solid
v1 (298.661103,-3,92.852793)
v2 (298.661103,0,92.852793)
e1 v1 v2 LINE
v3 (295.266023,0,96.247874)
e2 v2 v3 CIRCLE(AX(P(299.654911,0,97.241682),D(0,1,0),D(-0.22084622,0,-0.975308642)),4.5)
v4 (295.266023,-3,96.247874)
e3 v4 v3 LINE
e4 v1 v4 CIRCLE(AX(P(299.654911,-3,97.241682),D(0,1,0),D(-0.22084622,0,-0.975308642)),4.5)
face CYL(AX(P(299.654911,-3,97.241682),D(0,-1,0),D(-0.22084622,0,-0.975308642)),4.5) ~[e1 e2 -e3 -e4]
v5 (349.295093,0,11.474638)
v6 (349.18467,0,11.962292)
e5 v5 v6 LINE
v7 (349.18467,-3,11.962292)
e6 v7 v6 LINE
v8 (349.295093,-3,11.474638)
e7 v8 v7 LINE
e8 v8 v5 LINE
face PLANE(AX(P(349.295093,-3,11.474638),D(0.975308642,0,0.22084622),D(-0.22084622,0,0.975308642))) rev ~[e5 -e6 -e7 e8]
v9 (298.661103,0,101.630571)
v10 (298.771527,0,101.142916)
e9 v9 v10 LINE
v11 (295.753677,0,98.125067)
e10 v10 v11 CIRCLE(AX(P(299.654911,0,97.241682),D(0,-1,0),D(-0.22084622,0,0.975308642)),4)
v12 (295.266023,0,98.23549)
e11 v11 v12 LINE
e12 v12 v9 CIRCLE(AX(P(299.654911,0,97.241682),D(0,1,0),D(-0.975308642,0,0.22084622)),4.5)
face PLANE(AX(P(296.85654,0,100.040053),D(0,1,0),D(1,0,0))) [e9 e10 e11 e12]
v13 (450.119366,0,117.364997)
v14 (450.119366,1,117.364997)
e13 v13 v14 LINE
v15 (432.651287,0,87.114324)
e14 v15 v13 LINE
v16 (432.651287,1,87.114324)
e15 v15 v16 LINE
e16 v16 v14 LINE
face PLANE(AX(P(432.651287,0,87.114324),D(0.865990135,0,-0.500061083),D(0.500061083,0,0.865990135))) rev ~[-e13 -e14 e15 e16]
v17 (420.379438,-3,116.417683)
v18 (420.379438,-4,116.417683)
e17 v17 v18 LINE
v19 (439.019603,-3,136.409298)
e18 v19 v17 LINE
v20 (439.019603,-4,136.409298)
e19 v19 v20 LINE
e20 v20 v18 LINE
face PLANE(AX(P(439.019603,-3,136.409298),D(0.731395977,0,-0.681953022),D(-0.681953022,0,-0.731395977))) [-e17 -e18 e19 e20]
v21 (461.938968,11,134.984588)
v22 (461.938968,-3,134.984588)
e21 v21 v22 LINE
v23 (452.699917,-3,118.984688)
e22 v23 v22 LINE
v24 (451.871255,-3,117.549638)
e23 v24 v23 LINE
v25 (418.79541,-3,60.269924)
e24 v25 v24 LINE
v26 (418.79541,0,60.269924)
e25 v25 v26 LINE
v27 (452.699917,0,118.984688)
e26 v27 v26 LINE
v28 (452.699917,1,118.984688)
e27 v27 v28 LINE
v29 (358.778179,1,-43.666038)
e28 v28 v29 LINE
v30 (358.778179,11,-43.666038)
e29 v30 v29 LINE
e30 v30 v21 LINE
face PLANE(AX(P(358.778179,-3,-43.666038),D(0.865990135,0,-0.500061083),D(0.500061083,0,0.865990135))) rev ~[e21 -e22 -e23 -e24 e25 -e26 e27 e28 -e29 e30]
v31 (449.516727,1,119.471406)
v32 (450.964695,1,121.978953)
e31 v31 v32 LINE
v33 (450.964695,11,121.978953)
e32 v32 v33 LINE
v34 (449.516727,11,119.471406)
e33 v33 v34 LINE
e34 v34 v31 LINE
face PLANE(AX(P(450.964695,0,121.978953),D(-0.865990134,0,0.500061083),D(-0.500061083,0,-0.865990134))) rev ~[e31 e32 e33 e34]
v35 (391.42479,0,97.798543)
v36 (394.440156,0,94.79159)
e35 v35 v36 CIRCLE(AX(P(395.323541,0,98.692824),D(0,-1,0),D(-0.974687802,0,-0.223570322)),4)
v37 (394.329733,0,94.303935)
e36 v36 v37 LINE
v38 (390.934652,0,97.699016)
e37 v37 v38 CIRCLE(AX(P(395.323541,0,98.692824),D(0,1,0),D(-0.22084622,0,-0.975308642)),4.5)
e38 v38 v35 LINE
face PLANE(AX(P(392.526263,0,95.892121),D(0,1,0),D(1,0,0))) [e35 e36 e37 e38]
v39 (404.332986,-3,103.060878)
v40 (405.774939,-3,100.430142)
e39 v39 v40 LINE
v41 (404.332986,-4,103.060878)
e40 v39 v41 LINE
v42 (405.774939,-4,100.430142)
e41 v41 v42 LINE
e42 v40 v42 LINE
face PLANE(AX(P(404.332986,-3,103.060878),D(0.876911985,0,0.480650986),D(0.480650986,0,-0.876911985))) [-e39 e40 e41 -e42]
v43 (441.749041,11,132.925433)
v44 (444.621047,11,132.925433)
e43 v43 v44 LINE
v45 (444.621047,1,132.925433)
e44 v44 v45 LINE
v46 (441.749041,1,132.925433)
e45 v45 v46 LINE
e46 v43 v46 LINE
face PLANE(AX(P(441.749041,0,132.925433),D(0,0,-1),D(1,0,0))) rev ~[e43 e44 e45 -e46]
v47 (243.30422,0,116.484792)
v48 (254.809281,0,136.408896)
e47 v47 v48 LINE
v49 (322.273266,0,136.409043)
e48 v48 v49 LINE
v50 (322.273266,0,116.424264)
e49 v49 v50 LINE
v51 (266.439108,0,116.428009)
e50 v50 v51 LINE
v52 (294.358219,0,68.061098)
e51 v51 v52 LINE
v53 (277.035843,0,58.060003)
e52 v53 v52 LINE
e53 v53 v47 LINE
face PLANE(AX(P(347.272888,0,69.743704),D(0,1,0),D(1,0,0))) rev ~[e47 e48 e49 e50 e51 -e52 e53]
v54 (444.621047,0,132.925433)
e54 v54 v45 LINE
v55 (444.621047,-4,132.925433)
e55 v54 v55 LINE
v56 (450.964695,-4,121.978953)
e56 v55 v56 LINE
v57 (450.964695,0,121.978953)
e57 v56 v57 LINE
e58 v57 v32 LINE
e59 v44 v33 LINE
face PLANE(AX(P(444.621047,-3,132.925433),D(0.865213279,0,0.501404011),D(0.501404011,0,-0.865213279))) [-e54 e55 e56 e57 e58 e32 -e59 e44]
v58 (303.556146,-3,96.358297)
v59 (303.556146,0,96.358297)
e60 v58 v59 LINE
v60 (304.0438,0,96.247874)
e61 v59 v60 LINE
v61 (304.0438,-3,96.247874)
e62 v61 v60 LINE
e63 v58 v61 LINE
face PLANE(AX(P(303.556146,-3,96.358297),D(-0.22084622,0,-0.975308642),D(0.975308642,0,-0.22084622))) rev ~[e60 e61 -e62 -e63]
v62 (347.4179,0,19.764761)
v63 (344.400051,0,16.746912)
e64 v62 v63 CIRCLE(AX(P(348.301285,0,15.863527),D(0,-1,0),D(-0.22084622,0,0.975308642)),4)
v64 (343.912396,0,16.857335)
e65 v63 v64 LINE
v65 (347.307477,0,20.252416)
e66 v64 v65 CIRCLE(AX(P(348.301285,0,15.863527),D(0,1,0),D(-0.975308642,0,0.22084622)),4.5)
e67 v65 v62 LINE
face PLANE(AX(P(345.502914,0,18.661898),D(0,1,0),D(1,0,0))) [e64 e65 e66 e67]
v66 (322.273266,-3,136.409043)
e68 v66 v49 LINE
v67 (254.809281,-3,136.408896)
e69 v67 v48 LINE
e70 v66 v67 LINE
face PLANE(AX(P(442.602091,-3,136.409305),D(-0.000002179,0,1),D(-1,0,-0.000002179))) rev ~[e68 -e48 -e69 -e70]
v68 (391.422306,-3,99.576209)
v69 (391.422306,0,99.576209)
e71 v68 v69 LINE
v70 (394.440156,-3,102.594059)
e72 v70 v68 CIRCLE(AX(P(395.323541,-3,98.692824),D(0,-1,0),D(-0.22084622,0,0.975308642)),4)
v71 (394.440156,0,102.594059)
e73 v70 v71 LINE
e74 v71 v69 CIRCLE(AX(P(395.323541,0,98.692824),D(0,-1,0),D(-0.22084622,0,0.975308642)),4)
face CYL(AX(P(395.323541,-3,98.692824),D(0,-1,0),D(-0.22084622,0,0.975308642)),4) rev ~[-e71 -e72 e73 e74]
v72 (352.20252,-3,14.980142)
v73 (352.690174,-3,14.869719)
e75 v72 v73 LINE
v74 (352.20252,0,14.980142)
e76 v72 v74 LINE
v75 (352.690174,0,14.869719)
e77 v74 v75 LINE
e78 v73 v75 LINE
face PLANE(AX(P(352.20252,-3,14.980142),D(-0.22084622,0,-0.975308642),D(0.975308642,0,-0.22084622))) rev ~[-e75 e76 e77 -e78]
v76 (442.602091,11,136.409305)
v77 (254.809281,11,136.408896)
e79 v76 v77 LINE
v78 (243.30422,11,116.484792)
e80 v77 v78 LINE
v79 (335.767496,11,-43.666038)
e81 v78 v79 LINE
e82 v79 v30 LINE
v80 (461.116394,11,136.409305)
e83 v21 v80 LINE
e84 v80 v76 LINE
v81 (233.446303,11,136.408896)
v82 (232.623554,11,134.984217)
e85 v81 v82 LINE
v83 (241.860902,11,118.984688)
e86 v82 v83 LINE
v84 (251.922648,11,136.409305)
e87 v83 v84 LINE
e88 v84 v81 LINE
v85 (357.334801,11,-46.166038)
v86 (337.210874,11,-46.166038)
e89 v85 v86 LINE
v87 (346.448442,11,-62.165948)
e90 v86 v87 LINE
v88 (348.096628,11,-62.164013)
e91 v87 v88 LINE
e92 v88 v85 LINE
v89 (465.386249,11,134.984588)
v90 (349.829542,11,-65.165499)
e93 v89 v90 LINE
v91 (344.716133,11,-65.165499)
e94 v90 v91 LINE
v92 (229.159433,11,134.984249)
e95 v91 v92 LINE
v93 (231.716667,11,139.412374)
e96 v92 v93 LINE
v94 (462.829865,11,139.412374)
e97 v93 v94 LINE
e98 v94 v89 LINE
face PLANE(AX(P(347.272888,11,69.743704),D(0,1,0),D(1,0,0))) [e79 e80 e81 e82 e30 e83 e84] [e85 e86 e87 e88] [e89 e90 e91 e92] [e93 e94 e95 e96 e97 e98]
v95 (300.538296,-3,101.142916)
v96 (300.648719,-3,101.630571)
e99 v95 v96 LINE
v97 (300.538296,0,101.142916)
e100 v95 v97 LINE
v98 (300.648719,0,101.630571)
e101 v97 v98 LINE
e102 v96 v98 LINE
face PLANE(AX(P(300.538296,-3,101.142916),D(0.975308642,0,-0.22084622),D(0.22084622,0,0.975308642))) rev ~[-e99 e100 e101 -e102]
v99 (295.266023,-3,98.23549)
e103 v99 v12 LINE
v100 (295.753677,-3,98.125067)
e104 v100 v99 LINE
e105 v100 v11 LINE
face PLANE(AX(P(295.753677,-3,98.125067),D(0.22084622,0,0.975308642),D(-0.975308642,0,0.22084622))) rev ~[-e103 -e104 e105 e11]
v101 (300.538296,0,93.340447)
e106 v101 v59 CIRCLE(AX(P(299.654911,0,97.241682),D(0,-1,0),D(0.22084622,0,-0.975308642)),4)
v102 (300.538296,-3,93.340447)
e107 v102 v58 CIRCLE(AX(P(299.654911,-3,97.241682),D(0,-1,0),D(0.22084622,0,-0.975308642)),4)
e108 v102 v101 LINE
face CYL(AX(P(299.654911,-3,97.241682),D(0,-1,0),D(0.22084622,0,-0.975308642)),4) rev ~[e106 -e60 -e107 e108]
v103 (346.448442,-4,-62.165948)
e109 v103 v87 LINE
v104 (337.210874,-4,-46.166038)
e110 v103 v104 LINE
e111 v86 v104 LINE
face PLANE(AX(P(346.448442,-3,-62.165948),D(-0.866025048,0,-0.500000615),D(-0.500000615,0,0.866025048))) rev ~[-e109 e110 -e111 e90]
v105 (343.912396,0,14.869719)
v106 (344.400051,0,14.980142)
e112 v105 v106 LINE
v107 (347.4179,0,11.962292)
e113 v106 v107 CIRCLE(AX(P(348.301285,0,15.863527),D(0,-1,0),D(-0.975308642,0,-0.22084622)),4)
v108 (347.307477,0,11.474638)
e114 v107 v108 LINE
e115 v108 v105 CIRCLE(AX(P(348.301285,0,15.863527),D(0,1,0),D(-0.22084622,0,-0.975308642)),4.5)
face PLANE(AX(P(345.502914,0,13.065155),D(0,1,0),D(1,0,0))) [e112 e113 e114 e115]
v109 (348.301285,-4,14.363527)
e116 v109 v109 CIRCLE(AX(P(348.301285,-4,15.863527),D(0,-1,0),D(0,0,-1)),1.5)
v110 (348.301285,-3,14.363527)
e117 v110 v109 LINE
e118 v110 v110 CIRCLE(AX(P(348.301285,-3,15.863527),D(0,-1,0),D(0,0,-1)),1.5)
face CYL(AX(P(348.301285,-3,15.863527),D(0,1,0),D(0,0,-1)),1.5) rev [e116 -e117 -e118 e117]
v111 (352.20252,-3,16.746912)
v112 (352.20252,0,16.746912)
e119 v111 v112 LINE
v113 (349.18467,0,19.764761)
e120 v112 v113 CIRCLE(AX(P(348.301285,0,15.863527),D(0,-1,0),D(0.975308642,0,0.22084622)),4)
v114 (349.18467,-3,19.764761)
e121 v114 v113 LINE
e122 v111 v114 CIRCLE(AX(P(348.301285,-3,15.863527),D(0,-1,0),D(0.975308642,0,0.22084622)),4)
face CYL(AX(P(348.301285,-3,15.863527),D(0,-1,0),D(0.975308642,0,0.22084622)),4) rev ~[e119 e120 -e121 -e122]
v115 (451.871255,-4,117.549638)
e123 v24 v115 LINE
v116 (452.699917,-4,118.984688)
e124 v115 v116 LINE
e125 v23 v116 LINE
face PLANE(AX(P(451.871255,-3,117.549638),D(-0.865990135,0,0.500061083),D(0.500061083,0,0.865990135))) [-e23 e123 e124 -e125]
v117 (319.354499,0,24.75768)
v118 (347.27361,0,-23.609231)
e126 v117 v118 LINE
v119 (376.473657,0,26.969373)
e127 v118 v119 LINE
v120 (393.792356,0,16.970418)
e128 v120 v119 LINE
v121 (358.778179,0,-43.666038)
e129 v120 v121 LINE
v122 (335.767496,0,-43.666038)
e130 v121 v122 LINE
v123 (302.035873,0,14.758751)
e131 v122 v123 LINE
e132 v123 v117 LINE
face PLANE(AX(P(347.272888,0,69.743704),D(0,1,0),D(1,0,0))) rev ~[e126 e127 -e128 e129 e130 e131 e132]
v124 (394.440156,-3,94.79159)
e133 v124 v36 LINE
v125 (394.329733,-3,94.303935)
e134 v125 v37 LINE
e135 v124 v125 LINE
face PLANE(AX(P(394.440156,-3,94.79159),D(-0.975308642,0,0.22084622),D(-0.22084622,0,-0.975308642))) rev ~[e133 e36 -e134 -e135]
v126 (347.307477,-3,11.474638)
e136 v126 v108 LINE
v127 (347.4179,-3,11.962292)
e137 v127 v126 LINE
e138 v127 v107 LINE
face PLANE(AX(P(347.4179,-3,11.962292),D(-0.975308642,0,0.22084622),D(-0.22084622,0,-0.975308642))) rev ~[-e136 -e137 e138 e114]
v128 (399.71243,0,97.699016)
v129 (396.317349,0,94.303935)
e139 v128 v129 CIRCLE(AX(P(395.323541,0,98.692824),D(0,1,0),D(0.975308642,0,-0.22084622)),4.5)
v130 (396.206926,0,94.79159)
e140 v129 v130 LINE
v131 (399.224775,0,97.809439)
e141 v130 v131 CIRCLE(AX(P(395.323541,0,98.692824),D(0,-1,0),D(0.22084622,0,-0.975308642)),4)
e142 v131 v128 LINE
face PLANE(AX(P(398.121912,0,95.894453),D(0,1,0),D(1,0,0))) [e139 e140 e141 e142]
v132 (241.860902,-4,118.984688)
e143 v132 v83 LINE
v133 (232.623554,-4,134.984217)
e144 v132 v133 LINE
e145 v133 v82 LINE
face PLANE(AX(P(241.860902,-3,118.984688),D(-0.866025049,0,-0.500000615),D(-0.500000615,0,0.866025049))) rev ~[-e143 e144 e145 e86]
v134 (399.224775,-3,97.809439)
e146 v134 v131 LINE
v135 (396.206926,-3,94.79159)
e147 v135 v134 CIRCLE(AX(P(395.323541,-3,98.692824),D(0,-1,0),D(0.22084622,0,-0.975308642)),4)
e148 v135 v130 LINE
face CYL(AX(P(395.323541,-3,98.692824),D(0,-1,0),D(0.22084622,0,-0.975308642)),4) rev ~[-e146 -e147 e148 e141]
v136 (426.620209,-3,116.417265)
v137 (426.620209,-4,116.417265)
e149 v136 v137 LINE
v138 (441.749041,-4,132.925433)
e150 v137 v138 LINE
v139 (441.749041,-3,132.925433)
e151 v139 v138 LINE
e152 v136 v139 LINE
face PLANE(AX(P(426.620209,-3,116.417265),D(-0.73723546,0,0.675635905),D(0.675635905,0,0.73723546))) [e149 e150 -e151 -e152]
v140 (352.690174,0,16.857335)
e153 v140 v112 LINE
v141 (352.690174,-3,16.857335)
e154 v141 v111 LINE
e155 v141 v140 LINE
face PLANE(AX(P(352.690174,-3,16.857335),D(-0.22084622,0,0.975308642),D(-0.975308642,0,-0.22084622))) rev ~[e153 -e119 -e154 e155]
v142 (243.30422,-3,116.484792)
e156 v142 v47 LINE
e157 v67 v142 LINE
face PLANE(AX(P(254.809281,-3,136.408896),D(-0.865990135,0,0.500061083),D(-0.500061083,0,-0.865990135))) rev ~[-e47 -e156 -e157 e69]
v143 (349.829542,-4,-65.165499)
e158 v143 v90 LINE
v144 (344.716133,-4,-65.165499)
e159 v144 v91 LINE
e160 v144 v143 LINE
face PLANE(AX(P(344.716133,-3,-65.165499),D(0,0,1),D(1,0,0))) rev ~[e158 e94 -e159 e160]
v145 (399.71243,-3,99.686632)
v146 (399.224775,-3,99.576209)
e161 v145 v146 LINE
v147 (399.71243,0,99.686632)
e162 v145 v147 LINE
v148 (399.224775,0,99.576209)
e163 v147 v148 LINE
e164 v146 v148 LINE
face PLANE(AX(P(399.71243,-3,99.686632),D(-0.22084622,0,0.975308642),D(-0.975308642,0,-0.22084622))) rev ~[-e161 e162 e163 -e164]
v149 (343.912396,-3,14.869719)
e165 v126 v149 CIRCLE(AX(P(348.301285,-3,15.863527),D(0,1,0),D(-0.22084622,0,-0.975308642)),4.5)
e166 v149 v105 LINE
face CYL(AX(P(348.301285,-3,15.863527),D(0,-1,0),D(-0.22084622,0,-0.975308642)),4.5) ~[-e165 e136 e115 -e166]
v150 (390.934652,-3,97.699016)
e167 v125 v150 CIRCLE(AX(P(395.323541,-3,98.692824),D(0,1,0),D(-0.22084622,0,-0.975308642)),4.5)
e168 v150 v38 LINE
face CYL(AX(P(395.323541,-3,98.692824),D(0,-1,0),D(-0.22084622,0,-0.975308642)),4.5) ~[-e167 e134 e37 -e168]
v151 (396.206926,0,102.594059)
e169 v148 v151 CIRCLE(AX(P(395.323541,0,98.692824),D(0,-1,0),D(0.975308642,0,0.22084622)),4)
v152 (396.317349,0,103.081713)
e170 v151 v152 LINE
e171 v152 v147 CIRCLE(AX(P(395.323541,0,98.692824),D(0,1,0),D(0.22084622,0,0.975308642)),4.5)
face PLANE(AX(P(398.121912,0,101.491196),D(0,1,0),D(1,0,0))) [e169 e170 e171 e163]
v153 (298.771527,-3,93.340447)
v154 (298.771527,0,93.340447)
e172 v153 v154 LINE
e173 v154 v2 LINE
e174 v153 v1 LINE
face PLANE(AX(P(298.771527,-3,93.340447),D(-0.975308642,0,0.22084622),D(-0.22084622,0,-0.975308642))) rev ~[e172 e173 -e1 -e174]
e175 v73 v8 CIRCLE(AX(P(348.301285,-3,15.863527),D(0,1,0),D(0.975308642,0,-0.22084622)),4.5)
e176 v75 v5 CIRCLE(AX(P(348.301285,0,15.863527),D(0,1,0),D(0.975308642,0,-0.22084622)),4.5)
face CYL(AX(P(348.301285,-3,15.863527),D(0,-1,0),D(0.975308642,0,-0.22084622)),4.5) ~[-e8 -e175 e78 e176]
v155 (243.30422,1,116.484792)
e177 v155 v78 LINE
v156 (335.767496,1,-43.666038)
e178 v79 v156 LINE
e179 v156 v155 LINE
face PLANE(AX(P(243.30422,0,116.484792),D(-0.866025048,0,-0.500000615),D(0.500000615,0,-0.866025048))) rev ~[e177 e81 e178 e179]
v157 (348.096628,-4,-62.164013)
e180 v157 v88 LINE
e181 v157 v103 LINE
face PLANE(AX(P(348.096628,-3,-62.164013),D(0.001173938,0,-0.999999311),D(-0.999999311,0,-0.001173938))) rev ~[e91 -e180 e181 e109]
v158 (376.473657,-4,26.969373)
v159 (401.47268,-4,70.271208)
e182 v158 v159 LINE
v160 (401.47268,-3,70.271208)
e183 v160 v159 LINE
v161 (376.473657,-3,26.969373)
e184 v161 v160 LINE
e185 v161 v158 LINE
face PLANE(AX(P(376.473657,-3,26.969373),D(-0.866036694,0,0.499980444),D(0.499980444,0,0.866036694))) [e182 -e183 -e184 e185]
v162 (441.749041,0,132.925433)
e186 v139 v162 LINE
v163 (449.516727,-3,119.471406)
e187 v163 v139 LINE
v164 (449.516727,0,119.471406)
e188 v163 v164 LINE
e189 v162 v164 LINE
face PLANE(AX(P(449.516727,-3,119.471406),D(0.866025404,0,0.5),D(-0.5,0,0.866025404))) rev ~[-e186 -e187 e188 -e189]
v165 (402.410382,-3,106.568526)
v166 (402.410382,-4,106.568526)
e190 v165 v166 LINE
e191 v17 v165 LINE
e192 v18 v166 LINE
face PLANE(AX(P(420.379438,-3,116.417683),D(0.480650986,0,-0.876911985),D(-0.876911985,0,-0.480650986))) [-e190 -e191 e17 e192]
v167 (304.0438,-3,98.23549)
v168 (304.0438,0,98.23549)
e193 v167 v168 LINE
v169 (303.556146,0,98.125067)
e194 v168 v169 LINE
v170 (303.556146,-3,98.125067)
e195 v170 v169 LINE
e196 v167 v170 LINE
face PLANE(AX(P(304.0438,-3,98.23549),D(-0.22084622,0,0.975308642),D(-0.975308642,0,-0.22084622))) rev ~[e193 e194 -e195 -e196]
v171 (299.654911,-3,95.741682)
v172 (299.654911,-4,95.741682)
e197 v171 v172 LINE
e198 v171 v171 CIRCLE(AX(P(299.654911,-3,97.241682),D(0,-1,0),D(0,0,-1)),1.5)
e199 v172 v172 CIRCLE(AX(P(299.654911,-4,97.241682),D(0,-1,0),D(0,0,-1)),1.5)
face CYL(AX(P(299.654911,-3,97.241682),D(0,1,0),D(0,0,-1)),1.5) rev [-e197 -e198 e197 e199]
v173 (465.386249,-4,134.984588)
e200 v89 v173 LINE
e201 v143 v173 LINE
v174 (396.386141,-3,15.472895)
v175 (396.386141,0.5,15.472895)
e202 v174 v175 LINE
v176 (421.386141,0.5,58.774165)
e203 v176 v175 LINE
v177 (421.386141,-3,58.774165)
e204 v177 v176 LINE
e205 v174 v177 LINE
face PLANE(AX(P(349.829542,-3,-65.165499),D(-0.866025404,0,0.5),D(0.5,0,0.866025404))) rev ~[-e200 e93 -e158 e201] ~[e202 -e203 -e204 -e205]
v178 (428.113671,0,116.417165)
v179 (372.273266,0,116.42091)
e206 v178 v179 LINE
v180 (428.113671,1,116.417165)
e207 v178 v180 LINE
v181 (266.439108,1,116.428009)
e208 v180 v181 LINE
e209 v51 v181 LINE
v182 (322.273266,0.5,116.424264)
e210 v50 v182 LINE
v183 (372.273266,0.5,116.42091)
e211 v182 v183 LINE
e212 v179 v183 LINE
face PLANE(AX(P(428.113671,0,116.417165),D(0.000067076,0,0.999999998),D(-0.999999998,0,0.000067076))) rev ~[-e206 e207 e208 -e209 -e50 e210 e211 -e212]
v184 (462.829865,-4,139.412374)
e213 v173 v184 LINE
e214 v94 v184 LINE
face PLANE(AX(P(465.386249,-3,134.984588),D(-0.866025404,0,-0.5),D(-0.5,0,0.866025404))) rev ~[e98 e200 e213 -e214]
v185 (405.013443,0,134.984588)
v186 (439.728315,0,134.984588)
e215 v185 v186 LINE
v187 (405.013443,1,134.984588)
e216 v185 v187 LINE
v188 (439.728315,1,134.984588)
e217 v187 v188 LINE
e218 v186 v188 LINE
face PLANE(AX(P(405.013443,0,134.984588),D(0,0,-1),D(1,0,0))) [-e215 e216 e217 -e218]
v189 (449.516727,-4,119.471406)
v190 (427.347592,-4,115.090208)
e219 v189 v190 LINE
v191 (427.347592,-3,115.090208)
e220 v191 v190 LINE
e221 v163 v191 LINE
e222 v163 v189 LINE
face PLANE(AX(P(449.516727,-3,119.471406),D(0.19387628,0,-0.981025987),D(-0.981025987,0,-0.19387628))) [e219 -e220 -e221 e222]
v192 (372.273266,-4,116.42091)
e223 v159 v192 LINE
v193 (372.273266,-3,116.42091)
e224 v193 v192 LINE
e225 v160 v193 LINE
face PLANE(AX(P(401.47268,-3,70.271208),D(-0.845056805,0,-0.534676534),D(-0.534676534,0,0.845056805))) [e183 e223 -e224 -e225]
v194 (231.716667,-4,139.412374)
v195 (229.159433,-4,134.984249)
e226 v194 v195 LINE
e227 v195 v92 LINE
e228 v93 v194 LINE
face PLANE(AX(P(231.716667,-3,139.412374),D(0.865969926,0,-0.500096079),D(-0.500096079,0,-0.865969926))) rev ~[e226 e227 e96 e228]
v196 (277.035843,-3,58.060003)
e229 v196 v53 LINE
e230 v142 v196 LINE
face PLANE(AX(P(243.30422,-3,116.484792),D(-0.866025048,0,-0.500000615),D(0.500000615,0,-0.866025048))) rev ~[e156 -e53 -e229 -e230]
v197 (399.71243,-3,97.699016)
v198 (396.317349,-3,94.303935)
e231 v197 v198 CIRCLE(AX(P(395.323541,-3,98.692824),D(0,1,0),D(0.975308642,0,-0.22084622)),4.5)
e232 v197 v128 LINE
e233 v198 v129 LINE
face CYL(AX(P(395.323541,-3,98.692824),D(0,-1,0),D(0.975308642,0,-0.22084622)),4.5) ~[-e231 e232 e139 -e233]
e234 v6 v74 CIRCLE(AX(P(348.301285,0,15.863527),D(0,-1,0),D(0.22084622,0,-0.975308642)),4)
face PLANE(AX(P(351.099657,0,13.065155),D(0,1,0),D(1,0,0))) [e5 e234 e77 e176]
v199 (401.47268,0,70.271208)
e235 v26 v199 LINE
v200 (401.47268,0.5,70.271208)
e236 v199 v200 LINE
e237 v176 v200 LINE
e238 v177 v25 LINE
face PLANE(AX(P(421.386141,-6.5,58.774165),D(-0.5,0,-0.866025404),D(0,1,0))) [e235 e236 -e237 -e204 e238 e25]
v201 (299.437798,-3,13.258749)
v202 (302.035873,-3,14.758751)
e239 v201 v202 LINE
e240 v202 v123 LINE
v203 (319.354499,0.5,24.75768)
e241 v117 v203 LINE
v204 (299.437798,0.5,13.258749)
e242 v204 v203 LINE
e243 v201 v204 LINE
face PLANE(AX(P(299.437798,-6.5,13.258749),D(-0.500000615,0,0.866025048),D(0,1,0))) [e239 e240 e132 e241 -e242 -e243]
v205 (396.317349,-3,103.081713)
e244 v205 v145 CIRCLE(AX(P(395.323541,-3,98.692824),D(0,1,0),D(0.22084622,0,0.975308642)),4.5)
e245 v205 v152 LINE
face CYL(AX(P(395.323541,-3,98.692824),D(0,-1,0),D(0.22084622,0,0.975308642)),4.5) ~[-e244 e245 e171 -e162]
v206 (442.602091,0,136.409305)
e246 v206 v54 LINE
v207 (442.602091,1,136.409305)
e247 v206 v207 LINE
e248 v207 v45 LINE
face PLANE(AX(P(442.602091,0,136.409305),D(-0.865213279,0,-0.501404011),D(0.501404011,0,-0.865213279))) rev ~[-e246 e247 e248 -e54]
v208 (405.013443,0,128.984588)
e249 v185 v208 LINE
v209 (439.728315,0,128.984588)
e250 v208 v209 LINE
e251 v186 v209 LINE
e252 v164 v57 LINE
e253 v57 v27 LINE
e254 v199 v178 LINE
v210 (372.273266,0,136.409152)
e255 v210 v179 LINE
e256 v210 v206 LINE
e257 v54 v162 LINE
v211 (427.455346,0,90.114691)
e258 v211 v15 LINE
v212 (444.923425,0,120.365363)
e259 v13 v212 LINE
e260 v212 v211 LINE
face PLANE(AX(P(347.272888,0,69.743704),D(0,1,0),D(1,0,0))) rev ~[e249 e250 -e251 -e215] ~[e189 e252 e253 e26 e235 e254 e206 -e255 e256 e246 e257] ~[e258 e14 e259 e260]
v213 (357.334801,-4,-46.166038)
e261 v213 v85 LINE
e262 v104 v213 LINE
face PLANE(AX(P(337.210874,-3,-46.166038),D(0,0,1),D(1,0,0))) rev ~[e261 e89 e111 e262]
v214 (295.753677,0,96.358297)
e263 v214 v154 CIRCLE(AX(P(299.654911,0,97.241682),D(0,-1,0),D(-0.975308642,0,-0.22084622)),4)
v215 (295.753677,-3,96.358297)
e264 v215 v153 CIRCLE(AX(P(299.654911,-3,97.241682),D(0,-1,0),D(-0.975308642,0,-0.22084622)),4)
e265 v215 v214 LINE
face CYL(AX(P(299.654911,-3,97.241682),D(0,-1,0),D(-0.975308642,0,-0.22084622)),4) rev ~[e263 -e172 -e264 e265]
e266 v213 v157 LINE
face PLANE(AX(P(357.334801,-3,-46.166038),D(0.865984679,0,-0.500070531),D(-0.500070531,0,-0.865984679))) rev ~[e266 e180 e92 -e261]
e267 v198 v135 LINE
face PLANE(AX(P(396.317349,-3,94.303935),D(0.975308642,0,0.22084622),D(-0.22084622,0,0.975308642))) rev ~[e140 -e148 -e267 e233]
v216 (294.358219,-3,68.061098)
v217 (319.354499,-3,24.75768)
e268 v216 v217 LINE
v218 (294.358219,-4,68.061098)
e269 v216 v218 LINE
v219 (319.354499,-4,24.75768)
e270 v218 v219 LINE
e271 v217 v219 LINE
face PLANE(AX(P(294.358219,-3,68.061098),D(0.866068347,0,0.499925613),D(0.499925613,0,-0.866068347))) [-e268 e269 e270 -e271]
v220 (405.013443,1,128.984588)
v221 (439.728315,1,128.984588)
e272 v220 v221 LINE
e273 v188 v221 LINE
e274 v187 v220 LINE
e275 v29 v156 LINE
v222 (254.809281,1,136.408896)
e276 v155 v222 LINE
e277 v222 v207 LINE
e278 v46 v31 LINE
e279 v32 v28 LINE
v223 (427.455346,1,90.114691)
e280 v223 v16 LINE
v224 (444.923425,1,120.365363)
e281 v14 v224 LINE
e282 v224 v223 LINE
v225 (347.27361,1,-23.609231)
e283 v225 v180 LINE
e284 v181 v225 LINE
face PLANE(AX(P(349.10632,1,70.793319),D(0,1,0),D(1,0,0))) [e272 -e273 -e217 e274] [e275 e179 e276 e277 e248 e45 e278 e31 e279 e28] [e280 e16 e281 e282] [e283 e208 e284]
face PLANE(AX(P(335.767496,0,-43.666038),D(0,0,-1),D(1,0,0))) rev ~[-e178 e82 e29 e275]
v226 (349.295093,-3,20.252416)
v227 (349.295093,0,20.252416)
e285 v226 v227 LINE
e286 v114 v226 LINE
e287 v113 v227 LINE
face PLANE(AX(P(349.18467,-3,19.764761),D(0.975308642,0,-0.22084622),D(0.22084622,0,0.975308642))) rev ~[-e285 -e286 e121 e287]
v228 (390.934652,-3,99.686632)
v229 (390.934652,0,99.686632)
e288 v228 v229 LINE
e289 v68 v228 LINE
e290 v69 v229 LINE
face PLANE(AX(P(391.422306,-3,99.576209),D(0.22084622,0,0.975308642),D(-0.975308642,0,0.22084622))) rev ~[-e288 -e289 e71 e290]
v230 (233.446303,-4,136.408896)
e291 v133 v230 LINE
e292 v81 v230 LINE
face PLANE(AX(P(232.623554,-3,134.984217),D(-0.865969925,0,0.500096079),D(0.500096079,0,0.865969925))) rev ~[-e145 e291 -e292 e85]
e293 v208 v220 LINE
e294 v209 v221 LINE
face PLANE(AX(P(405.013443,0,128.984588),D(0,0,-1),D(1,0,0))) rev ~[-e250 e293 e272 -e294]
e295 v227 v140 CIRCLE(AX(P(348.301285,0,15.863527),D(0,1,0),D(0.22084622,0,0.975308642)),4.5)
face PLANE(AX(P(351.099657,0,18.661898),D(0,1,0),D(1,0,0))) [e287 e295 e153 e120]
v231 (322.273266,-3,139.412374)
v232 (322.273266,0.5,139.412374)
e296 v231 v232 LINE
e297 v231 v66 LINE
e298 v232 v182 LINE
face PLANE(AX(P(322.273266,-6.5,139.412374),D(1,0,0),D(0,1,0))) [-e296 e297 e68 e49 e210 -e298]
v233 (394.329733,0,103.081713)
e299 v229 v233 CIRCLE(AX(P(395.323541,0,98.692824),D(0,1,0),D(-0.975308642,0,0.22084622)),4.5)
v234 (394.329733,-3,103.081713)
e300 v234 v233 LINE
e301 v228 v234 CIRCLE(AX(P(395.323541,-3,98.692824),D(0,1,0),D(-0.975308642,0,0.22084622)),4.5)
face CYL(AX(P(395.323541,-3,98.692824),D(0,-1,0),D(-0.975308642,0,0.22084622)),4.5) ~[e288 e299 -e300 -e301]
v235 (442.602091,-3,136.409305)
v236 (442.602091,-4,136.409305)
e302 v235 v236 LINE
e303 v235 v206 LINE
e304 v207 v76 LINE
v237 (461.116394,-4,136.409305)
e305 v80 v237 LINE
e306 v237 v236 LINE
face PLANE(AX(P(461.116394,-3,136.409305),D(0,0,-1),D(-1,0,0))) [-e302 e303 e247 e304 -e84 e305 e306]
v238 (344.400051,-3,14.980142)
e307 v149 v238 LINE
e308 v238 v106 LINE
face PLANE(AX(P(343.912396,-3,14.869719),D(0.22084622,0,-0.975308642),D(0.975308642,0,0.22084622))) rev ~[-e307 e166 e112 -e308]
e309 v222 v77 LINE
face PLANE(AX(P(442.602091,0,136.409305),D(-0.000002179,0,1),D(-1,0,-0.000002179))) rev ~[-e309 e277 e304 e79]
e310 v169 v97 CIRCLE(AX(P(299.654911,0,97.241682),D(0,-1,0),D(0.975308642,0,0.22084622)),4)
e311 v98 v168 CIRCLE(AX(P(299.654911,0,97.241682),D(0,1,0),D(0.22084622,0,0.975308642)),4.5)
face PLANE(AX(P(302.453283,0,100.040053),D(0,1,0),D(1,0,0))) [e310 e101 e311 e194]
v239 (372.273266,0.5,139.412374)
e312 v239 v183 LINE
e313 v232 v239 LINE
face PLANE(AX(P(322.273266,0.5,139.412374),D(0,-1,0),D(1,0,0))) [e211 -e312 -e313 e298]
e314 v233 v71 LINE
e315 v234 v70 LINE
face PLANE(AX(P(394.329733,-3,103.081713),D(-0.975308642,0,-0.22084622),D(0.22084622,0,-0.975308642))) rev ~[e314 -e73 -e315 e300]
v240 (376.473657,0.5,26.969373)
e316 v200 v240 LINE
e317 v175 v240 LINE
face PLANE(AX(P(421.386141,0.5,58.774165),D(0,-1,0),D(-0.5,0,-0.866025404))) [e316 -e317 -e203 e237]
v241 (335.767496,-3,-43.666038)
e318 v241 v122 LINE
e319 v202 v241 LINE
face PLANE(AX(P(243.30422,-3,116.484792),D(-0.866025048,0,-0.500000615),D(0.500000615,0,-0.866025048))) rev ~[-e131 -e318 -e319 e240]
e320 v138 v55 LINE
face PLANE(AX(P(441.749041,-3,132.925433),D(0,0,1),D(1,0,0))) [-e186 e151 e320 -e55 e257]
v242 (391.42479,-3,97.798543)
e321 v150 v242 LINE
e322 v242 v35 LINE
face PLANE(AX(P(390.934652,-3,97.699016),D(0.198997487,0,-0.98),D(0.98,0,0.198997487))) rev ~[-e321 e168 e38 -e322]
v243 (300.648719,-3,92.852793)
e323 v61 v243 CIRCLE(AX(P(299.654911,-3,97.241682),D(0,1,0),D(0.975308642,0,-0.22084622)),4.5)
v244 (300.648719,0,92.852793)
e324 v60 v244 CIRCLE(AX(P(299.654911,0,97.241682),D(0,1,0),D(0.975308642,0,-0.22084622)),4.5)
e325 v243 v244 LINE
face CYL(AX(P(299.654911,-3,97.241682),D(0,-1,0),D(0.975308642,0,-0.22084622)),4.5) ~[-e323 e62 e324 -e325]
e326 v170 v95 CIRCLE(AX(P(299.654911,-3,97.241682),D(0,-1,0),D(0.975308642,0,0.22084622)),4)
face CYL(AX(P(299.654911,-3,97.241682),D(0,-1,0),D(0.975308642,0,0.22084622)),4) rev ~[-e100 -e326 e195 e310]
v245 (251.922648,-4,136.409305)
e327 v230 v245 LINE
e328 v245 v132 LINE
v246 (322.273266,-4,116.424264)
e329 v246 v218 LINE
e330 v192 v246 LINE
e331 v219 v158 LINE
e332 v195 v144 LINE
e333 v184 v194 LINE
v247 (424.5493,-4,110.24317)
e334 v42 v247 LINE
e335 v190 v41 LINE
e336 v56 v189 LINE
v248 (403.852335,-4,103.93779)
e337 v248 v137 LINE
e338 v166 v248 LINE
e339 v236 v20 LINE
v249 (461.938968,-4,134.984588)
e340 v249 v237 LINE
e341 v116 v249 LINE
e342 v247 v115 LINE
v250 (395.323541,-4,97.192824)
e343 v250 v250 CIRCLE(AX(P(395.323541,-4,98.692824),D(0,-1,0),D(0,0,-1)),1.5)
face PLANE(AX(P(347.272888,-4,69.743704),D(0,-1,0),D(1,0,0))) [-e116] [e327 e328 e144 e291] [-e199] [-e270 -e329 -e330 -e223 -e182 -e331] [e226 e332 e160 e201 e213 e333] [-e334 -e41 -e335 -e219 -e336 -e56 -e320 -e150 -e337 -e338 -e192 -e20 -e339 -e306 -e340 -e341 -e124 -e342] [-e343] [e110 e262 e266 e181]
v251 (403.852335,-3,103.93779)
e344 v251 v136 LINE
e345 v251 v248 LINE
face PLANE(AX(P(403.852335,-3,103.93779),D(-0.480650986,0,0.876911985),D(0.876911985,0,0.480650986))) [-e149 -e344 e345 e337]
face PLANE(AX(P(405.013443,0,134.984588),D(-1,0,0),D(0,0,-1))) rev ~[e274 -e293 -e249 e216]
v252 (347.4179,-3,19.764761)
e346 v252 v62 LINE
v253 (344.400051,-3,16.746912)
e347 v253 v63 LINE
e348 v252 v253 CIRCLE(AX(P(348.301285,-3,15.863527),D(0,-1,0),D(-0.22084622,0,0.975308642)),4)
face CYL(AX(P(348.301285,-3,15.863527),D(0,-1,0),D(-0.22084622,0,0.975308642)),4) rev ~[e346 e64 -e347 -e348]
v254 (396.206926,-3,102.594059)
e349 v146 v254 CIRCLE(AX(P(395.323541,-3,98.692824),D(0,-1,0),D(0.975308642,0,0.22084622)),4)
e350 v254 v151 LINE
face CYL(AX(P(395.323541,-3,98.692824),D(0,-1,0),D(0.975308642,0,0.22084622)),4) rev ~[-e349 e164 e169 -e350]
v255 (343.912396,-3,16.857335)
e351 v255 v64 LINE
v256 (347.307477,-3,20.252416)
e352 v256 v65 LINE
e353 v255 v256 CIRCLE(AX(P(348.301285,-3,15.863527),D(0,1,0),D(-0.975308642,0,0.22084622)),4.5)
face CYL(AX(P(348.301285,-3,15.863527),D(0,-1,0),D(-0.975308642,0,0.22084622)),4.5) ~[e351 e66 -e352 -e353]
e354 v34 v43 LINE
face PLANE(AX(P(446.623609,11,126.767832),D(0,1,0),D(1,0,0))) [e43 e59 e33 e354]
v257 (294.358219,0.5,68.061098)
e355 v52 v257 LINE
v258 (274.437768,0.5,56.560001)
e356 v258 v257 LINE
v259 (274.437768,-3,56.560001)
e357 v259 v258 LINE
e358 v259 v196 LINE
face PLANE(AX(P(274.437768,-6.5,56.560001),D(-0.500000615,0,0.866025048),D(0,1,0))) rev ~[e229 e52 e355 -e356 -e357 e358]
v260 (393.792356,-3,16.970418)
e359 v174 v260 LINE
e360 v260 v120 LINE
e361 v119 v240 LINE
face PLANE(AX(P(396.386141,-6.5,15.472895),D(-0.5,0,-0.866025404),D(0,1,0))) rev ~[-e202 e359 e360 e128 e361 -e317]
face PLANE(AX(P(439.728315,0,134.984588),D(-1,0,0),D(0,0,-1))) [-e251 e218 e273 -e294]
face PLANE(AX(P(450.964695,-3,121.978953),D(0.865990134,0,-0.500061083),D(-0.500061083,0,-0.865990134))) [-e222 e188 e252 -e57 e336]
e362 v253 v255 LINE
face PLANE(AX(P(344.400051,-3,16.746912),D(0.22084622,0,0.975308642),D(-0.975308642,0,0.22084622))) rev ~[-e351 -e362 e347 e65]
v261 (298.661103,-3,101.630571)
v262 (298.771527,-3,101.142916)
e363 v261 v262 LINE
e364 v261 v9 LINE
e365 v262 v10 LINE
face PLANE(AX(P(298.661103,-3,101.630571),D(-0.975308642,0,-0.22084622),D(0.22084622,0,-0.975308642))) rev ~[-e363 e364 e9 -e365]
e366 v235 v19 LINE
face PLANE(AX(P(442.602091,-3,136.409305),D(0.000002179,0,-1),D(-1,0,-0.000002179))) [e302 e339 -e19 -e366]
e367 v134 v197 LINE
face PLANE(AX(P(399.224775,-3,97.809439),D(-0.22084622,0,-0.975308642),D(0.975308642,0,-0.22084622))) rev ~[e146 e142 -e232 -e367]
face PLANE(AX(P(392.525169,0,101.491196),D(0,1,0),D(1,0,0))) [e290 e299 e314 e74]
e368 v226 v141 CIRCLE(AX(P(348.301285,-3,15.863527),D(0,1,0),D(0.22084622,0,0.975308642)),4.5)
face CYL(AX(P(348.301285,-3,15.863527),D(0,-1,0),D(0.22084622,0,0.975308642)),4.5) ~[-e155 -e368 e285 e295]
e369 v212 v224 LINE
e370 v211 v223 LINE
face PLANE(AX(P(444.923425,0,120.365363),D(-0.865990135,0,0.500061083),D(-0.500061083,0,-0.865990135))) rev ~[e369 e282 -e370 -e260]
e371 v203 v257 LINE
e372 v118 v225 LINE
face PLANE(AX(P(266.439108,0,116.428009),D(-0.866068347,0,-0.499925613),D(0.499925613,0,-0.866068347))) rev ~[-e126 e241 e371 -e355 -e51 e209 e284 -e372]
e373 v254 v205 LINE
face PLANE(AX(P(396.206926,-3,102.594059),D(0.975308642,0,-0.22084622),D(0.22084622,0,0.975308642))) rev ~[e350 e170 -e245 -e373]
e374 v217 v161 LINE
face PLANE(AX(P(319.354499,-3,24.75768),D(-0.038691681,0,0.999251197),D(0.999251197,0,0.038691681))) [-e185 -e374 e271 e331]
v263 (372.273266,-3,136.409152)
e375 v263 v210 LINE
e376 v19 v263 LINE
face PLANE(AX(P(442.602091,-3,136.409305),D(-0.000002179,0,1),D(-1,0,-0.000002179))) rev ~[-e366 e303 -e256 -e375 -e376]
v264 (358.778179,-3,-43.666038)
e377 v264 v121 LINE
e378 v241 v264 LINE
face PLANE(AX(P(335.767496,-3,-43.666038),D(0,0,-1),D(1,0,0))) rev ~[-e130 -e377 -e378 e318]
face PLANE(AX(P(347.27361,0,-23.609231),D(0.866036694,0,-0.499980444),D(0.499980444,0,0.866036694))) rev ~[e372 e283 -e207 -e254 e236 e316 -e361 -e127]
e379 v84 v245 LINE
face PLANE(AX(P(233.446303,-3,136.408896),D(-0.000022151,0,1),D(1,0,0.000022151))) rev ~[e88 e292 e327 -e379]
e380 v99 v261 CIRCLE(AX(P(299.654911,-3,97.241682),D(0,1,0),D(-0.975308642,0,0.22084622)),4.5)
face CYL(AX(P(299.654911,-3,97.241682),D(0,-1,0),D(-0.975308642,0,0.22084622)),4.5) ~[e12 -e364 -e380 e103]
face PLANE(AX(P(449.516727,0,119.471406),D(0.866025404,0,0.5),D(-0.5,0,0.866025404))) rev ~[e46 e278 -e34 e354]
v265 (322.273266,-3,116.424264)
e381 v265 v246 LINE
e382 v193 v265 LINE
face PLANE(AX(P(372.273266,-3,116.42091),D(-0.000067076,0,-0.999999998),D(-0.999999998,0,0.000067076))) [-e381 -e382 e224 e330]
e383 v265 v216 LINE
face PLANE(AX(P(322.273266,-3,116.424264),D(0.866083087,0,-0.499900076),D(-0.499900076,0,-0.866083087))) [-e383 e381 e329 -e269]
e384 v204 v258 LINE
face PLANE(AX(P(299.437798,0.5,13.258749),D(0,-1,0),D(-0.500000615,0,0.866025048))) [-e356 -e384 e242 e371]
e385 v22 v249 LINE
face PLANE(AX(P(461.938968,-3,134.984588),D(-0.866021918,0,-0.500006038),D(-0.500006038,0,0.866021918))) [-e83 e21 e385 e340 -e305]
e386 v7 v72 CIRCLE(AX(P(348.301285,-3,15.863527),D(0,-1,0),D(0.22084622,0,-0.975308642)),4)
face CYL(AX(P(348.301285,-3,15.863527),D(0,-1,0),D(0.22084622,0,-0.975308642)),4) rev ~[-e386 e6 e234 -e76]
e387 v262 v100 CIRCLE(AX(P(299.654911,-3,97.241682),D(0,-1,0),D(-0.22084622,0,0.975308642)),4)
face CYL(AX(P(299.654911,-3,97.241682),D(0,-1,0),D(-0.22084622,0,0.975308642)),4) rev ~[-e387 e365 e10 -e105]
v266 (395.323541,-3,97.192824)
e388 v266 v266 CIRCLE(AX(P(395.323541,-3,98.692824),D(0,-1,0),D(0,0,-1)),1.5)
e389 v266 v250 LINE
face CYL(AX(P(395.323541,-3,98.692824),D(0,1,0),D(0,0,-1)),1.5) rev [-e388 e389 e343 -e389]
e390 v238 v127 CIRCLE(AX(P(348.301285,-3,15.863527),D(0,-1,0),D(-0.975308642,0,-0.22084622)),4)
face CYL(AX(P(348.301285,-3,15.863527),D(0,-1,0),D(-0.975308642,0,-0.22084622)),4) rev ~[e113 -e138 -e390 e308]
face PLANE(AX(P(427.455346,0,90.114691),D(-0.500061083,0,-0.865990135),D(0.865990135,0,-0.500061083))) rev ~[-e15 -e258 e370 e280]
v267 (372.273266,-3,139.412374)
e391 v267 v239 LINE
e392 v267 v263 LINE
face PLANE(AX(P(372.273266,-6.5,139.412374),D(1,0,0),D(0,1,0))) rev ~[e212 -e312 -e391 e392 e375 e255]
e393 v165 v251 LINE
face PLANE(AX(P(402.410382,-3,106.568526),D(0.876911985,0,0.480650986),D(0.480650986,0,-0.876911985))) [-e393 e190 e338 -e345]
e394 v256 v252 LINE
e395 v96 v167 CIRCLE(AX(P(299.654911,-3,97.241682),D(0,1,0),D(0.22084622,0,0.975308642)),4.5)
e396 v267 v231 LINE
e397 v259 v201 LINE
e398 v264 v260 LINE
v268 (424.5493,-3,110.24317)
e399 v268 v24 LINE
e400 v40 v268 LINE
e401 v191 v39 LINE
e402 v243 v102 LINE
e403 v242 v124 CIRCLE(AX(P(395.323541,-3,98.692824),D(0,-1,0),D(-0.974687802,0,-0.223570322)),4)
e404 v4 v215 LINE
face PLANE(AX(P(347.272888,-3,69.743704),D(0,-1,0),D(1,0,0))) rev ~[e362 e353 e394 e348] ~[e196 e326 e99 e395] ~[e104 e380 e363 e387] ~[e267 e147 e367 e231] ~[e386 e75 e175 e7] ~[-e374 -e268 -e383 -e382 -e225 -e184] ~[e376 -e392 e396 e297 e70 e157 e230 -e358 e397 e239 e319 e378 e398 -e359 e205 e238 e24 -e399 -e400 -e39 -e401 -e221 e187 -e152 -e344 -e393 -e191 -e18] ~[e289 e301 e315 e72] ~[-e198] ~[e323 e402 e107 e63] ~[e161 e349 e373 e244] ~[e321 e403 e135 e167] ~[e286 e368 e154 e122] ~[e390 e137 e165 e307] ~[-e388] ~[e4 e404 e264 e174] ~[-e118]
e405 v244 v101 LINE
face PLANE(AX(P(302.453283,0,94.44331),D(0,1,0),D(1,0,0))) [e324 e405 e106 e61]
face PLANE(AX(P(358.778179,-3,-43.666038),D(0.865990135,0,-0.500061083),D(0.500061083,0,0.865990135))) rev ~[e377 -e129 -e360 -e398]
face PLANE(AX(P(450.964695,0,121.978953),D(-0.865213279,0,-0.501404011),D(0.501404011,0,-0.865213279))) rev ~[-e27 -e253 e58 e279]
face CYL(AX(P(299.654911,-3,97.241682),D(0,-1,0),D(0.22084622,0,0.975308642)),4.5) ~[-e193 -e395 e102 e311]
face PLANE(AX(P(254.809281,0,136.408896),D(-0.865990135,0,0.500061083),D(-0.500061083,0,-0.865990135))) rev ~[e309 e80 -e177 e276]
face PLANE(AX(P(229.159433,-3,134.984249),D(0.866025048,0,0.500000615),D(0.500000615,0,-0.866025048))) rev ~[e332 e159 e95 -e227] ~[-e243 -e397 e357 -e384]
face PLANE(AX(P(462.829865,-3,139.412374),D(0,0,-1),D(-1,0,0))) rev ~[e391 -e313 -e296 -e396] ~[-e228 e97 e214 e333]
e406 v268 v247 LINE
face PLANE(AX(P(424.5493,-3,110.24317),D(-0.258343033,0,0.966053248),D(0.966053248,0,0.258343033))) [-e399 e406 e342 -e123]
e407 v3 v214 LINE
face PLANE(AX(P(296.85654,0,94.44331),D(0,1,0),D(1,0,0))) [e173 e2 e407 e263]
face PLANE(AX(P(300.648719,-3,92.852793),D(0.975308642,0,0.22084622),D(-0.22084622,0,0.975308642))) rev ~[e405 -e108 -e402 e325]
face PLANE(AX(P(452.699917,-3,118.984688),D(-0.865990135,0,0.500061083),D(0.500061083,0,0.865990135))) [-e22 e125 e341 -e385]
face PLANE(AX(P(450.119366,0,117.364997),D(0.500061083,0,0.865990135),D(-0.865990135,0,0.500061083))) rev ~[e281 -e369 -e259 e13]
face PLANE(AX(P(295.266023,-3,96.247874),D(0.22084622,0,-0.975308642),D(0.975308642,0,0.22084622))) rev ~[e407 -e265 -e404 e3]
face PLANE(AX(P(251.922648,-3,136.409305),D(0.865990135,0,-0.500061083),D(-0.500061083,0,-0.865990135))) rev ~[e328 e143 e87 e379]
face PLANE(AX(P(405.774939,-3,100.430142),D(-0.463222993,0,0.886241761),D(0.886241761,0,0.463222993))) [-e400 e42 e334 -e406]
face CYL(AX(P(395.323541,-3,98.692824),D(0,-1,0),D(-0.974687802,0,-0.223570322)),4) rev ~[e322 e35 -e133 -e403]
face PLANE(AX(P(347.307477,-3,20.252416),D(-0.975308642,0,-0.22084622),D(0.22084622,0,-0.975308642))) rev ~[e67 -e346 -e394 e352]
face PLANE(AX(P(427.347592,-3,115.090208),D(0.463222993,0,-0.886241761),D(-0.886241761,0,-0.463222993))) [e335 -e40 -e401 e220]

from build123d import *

# Parameters (mm, degrees)
SKETCH1_W                = 34.714871787
SKETCH1_H                = 6
BOSS_EXTRUDE1_DEPTH      = 1
BOSS_EXTRUDE2_DEPTH      = 11
BOSS_EXTRUDE3_DEPTH      = 5
BOSS_EXTRUDE3_DEPTH_BACK = 3
SKETCH3_W                = 50
SKETCH3_H                = 7
CUT_EXTRUDE3_DEPTH       = 25
SKETCH5_W                = 50
SKETCH5_H                = 7
CUT_EXTRUDE4_DEPTH       = 25
SKETCH6_W                = 50
SKETCH6_H                = 7
CUT_EXTRUDE5_DEPTH       = 25
SKETCH8_R                = 1.500000001
SKETCH8_R_2              = 1.499999999
BOSS_EXTRUDE5_DEPTH      = 1
BOSS_EXTRUDE10_DEPTH     = 3


with BuildPart() as part:
    # Sketch1 → Boss-Extrude1 (new body)
    with BuildSketch(Plane(origin=(0, 0, 0), x_dir=(1, 0, 0), z_dir=(0, 1, 0))):
        Polygon((243.304219779, -116.484791863), (254.809280582, -136.408896135), (442.602090749, -136.409305398), (444.621046678, -132.925433226), (441.749040748, -132.925433226), (449.516726723, -119.47140646), (450.9646953, -121.978953126), (452.699916625, -118.984688022), (358.778179038, 43.666038061), (335.767496282, 43.666038061), align=None)
        with Locations((422.370878913, -131.984588005)):
            Rectangle(SKETCH1_W, SKETCH1_H, mode=Mode.SUBTRACT)
        Polygon((450.119365975, -117.364996826), (444.923425166, -120.365363323), (427.455346217, -90.114690822), (432.651287025, -87.114324326), align=None, mode=Mode.SUBTRACT)
        Polygon((428.11367092, -116.417164681), (266.439108269, -116.428009228), (347.27360973, 23.609230811), align=None, mode=Mode.SUBTRACT)
    extrude(amount=BOSS_EXTRUDE1_DEPTH)

    # Sketch1<9> → Boss-Extrude2 (add)
    # profile 1 of 2: a face of its own
    with BuildSketch(Plane(origin=(0, 0, 0), x_dir=(1, 0, 0), z_dir=(0, 1, 0))):
        Polygon((229.15943255, -134.984249185), (231.716666588, -139.412373829), (462.829865412, -139.412373829), (465.38624875, -134.984588004), (349.829542096, 65.165499075), (344.716133219, 65.165499075), align=None)
        Polygon((251.922647993, -136.409305396), (233.446303405, -136.408896135), (232.623553964, -134.984217354), (241.860901693, -118.984688015), align=None, mode=Mode.SUBTRACT)
        Polygon((442.602090749, -136.409305398), (254.809280582, -136.408896135), (243.304219779, -116.484791863), (335.767496282, 43.666038061), (358.778179038, 43.666038061), (461.93896796, -134.98458801), (461.116393748, -136.409305398), align=None, mode=Mode.SUBTRACT)
        Polygon((348.096628302, 62.164013367), (357.334800991, 46.166038067), (337.210874326, 46.166038067), (346.44844193, 62.165948237), align=None, mode=Mode.SUBTRACT)
    # profile 2 of 2: a face of its own
    with BuildSketch(Plane(origin=(0, 0, 0), x_dir=(1, 0, 0), z_dir=(0, 1, 0))):
        Polygon((441.749040748, -132.925433226), (444.621046678, -132.925433226), (450.9646953, -121.978953126), (449.516726723, -119.47140646), align=None)
    extrude(amount=BOSS_EXTRUDE2_DEPTH)

    # Sketch1<10> → Boss-Extrude3 (add, two sides: drawn at the far end of the back side and taken through both)
    # profile 1 of 2: a face of its own
    with BuildSketch(Plane(origin=(0, 0, 0), x_dir=(1, 0, 0), z_dir=(0, 1, 0)).offset(-BOSS_EXTRUDE3_DEPTH_BACK)):
        Polygon((229.15943255, -134.984249185), (231.716666588, -139.412373829), (462.829865412, -139.412373829), (465.38624875, -134.984588004), (349.829542096, 65.165499075), (344.716133219, 65.165499075), align=None)
        Polygon((251.922647993, -136.409305396), (233.446303405, -136.408896135), (232.623553964, -134.984217354), (241.860901693, -118.984688015), align=None, mode=Mode.SUBTRACT)
        Polygon((442.602090749, -136.409305398), (254.809280582, -136.408896135), (243.304219779, -116.484791863), (335.767496282, 43.666038061), (358.778179038, 43.666038061), (461.93896796, -134.98458801), (461.116393748, -136.409305398), align=None, mode=Mode.SUBTRACT)
        Polygon((348.096628302, 62.164013367), (357.334800991, 46.166038067), (337.210874326, 46.166038067), (346.44844193, 62.165948237), align=None, mode=Mode.SUBTRACT)
    # profile 2 of 2: a face of its own
    with BuildSketch(Plane(origin=(0, 0, 0), x_dir=(1, 0, 0), z_dir=(0, 1, 0)).offset(-BOSS_EXTRUDE3_DEPTH_BACK)):
        Polygon((441.749040748, -132.925433226), (444.621046678, -132.925433226), (450.9646953, -121.978953126), (449.516726723, -119.47140646), align=None)
    extrude(amount=BOSS_EXTRUDE3_DEPTH + BOSS_EXTRUDE3_DEPTH_BACK)

    # Sketch3 → Cut-Extrude3 (cut)
    with BuildSketch(Plane(origin=(290.589645397, 0, -167.772009994), x_dir=(-0.49999999999998745, 0, -0.8660254037844459), z_dir=(0.8660254037844459, 0, -0.49999999999998745))):
        with Locations((-236.592990632, -3)):
            Rectangle(SKETCH3_W, SKETCH3_H)
    extrude(amount=-CUT_EXTRUDE3_DEPTH, mode=Mode.SUBTRACT)

    # Sketch5 → Cut-Extrude4 (cut)
    with BuildSketch(Plane.XY.offset(139.412373829)):
        with Locations((347.273266, -3)):
            Rectangle(SKETCH5_W, SKETCH5_H)
    extrude(amount=-CUT_EXTRUDE4_DEPTH, mode=Mode.SUBTRACT)

    # Sketch6 → Cut-Extrude5 (cut)
    with BuildSketch(Plane(origin=(230.319375802, 0, 132.975171836), x_dir=(-0.5000006153901599, 0, 0.8660250484884727), z_dir=(-0.8660250484884727, 0, -0.5000006153901599))):
        with Locations((-113.236674797, -3)):
            Rectangle(SKETCH6_W, SKETCH6_H)
    extrude(amount=-CUT_EXTRUDE5_DEPTH, mode=Mode.SUBTRACT)

    # Sketch8 → Boss-Extrude5 (add)
    with BuildSketch(Plane.XZ.offset(3)):
        Polygon((349.829542096, -65.165499075), (465.38624875, 134.984588004), (462.829865412, 139.412373829), (231.716666588, 139.412373829), (229.15943255, 134.984249185), (344.716133219, -65.165499075), align=None)
        with Locations((395.323540807, 98.692824233)):
            Circle(SKETCH8_R, mode=Mode.SUBTRACT)
        with Locations((348.301285092, 15.86352663)):
            Circle(SKETCH8_R_2, mode=Mode.SUBTRACT)
        with Locations((299.654911442, 97.241681778)):
            Circle(SKETCH8_R, mode=Mode.SUBTRACT)
        Polygon((444.621046678, 132.925433226), (450.9646953, 121.978953126), (449.516726723, 119.47140646), (427.347592194, 115.090208206), (404.332986149, 103.060878104), (405.774939108, 100.430142149), (424.549299543, 110.243170392), (451.871255231, 117.549638152), (452.699916625, 118.984688022), (461.93896796, 134.98458801), (461.116393748, 136.409305398), (442.602090749, 136.409305398), (439.019602541, 136.409297591), (420.379437569, 116.417683466), (402.410382204, 106.568526043), (403.852335163, 103.937790089), (426.620208945, 116.417264858), (441.749040748, 132.925433226), align=None, mode=Mode.SUBTRACT)
        Polygon((322.273266, 116.424264074), (294.35821863, 68.061097963), (319.354499369, 24.757680454), (376.473657314, 26.969372807), (401.472679509, 70.271207532), (372.273266, 116.420910254), align=None, mode=Mode.SUBTRACT)
        Polygon((233.446303405, 136.408896135), (251.922647993, 136.409305396), (241.860901693, 118.984688015), (232.623553964, 134.984217354), align=None, mode=Mode.SUBTRACT)
        Polygon((337.210874326, -46.166038067), (357.334800991, -46.166038067), (348.096628302, -62.164013367), (346.44844193, -62.165948237), align=None, mode=Mode.SUBTRACT)
    extrude(amount=BOSS_EXTRUDE5_DEPTH)

    # Sketch12 → Boss-Extrude10 (add)
    with BuildSketch(Plane(origin=(0, -3, 0), x_dir=(1, 0, 0), z_dir=(0, 1, 0))):
        with BuildLine():
            ThreePointArc((352.690173981, -14.86971864), (351.483265607, -12.681546115), (349.295093082, -11.474637741))
            Line((349.295093082, -11.474637742), (349.184669972, -11.962292063))
            ThreePointArc((349.184669972, -11.962292062), (351.129712217, -13.035099505), (352.20251966, -14.98014175))
            Line((352.20251966, -14.98014175), (352.690173981, -14.86971864))
        make_face()
        with BuildLine():
            Line((347.417900212, -11.962292063), (347.307477102, -11.474637742))
            ThreePointArc((347.307477102, -11.474637741), (345.119304576, -12.681546115), (343.912396203, -14.86971864))
            Line((343.912396203, -14.86971864), (344.400050524, -14.98014175))
            ThreePointArc((344.400050524, -14.98014175), (345.472857967, -13.035099505), (347.417900212, -11.962292062))
        make_face()
        with BuildLine():
            ThreePointArc((349.295093082, -20.25241552), (351.483265607, -19.045507146), (352.690173981, -16.85733462))
            Line((352.690173981, -16.85733462), (352.20251966, -16.74691151))
            ThreePointArc((352.20251966, -16.74691151), (351.129712217, -18.691953755), (349.184669972, -19.764761199))
            Line((349.184669972, -19.764761198), (349.295093082, -20.252415519))
        make_face()
        with BuildLine():
            Line((344.400050524, -16.74691151), (343.912396203, -16.85733462))
            ThreePointArc((343.912396203, -16.85733462), (345.119304576, -19.045507146), (347.307477102, -20.25241552))
            Line((347.307477102, -20.252415519), (347.417900212, -19.764761198))
            ThreePointArc((347.417900212, -19.764761199), (345.472857967, -18.691953755), (344.400050524, -16.74691151))
        make_face()
        with BuildLine():
            Line((394.440155927, -94.791589665), (394.329732817, -94.303935344))
            ThreePointArc((394.329732817, -94.303935343), (392.141560291, -95.510843717), (390.934651917, -97.699016243))
            Line((390.934651918, -97.699016243), (391.424789599, -97.798542944))
            ThreePointArc((391.424789599, -97.798542944), (392.499067688, -95.860448621), (394.440155927, -94.791589664))
        make_face()
        with BuildLine():
            ThreePointArc((399.712429696, -97.699016243), (398.505521322, -95.510843717), (396.317348797, -94.303935343))
            Line((396.317348797, -94.303935344), (396.206925687, -94.791589665))
            ThreePointArc((396.206925687, -94.791589664), (398.151967932, -95.864397108), (399.224775375, -97.809439353))
            Line((399.224775375, -97.809439353), (399.712429695, -97.699016243))
        make_face()
        with BuildLine():
            Line((391.422306239, -99.576209113), (390.934651918, -99.686632223))
            ThreePointArc((390.934651917, -99.686632223), (392.141560291, -101.874804748), (394.329732817, -103.081713122))
            Line((394.329732817, -103.081713121), (394.440155927, -102.5940588))
            ThreePointArc((394.440155927, -102.594058801), (392.495113682, -101.521251358), (391.422306238, -99.576209113))
        make_face()
        with BuildLine():
            ThreePointArc((396.317348797, -103.081713122), (398.505521322, -101.874804748), (399.712429696, -99.686632223))
            Line((399.712429695, -99.686632223), (399.224775375, -99.576209113))
            ThreePointArc((399.224775375, -99.576209113), (398.151967932, -101.521251358), (396.206925687, -102.594058801))
            Line((396.206925687, -102.5940588), (396.317348797, -103.081713121))
        make_face()
        with BuildLine():
            ThreePointArc((298.661103452, -92.85279289), (296.472930928, -94.059701263), (295.266022554, -96.247873788))
            Line((295.266022553, -96.247873788), (295.753676874, -96.358296898))
            ThreePointArc((295.753676875, -96.358296898), (296.826484318, -94.413254654), (298.771526562, -93.340447211))
            Line((298.771526562, -93.34044721), (298.661103452, -92.852792889))
        make_face()
        with BuildLine():
            Line((295.753676874, -98.125066658), (295.266022553, -98.235489768))
            ThreePointArc((295.266022554, -98.235489767), (296.472930928, -100.423662292), (298.661103452, -101.630570665))
            Line((298.661103452, -101.630570666), (298.771526562, -101.142916345))
            ThreePointArc((298.771526562, -101.142916344), (296.826484318, -100.070108901), (295.753676875, -98.125066657))
        make_face()
        with BuildLine():
            ThreePointArc((304.04380033, -96.247873788), (302.836891957, -94.059701263), (300.648719432, -92.85279289))
            Line((300.648719432, -92.852792889), (300.538296322, -93.34044721))
            ThreePointArc((300.538296322, -93.340447211), (302.483338566, -94.413254654), (303.556146009, -96.358296898))
            Line((303.55614601, -96.358296898), (304.043800331, -96.247873788))
        make_face()
        with BuildLine():
            Line((300.538296322, -101.142916345), (300.648719432, -101.630570666))
            ThreePointArc((300.648719432, -101.630570665), (302.836891957, -100.423662292), (304.04380033, -98.235489767))
            Line((304.043800331, -98.235489768), (303.55614601, -98.125066658))
            ThreePointArc((303.556146009, -98.125066657), (302.483338566, -100.070108901), (300.538296322, -101.142916344))
        make_face()
    extrude(amount=BOSS_EXTRUDE10_DEPTH)


solid = part.part
